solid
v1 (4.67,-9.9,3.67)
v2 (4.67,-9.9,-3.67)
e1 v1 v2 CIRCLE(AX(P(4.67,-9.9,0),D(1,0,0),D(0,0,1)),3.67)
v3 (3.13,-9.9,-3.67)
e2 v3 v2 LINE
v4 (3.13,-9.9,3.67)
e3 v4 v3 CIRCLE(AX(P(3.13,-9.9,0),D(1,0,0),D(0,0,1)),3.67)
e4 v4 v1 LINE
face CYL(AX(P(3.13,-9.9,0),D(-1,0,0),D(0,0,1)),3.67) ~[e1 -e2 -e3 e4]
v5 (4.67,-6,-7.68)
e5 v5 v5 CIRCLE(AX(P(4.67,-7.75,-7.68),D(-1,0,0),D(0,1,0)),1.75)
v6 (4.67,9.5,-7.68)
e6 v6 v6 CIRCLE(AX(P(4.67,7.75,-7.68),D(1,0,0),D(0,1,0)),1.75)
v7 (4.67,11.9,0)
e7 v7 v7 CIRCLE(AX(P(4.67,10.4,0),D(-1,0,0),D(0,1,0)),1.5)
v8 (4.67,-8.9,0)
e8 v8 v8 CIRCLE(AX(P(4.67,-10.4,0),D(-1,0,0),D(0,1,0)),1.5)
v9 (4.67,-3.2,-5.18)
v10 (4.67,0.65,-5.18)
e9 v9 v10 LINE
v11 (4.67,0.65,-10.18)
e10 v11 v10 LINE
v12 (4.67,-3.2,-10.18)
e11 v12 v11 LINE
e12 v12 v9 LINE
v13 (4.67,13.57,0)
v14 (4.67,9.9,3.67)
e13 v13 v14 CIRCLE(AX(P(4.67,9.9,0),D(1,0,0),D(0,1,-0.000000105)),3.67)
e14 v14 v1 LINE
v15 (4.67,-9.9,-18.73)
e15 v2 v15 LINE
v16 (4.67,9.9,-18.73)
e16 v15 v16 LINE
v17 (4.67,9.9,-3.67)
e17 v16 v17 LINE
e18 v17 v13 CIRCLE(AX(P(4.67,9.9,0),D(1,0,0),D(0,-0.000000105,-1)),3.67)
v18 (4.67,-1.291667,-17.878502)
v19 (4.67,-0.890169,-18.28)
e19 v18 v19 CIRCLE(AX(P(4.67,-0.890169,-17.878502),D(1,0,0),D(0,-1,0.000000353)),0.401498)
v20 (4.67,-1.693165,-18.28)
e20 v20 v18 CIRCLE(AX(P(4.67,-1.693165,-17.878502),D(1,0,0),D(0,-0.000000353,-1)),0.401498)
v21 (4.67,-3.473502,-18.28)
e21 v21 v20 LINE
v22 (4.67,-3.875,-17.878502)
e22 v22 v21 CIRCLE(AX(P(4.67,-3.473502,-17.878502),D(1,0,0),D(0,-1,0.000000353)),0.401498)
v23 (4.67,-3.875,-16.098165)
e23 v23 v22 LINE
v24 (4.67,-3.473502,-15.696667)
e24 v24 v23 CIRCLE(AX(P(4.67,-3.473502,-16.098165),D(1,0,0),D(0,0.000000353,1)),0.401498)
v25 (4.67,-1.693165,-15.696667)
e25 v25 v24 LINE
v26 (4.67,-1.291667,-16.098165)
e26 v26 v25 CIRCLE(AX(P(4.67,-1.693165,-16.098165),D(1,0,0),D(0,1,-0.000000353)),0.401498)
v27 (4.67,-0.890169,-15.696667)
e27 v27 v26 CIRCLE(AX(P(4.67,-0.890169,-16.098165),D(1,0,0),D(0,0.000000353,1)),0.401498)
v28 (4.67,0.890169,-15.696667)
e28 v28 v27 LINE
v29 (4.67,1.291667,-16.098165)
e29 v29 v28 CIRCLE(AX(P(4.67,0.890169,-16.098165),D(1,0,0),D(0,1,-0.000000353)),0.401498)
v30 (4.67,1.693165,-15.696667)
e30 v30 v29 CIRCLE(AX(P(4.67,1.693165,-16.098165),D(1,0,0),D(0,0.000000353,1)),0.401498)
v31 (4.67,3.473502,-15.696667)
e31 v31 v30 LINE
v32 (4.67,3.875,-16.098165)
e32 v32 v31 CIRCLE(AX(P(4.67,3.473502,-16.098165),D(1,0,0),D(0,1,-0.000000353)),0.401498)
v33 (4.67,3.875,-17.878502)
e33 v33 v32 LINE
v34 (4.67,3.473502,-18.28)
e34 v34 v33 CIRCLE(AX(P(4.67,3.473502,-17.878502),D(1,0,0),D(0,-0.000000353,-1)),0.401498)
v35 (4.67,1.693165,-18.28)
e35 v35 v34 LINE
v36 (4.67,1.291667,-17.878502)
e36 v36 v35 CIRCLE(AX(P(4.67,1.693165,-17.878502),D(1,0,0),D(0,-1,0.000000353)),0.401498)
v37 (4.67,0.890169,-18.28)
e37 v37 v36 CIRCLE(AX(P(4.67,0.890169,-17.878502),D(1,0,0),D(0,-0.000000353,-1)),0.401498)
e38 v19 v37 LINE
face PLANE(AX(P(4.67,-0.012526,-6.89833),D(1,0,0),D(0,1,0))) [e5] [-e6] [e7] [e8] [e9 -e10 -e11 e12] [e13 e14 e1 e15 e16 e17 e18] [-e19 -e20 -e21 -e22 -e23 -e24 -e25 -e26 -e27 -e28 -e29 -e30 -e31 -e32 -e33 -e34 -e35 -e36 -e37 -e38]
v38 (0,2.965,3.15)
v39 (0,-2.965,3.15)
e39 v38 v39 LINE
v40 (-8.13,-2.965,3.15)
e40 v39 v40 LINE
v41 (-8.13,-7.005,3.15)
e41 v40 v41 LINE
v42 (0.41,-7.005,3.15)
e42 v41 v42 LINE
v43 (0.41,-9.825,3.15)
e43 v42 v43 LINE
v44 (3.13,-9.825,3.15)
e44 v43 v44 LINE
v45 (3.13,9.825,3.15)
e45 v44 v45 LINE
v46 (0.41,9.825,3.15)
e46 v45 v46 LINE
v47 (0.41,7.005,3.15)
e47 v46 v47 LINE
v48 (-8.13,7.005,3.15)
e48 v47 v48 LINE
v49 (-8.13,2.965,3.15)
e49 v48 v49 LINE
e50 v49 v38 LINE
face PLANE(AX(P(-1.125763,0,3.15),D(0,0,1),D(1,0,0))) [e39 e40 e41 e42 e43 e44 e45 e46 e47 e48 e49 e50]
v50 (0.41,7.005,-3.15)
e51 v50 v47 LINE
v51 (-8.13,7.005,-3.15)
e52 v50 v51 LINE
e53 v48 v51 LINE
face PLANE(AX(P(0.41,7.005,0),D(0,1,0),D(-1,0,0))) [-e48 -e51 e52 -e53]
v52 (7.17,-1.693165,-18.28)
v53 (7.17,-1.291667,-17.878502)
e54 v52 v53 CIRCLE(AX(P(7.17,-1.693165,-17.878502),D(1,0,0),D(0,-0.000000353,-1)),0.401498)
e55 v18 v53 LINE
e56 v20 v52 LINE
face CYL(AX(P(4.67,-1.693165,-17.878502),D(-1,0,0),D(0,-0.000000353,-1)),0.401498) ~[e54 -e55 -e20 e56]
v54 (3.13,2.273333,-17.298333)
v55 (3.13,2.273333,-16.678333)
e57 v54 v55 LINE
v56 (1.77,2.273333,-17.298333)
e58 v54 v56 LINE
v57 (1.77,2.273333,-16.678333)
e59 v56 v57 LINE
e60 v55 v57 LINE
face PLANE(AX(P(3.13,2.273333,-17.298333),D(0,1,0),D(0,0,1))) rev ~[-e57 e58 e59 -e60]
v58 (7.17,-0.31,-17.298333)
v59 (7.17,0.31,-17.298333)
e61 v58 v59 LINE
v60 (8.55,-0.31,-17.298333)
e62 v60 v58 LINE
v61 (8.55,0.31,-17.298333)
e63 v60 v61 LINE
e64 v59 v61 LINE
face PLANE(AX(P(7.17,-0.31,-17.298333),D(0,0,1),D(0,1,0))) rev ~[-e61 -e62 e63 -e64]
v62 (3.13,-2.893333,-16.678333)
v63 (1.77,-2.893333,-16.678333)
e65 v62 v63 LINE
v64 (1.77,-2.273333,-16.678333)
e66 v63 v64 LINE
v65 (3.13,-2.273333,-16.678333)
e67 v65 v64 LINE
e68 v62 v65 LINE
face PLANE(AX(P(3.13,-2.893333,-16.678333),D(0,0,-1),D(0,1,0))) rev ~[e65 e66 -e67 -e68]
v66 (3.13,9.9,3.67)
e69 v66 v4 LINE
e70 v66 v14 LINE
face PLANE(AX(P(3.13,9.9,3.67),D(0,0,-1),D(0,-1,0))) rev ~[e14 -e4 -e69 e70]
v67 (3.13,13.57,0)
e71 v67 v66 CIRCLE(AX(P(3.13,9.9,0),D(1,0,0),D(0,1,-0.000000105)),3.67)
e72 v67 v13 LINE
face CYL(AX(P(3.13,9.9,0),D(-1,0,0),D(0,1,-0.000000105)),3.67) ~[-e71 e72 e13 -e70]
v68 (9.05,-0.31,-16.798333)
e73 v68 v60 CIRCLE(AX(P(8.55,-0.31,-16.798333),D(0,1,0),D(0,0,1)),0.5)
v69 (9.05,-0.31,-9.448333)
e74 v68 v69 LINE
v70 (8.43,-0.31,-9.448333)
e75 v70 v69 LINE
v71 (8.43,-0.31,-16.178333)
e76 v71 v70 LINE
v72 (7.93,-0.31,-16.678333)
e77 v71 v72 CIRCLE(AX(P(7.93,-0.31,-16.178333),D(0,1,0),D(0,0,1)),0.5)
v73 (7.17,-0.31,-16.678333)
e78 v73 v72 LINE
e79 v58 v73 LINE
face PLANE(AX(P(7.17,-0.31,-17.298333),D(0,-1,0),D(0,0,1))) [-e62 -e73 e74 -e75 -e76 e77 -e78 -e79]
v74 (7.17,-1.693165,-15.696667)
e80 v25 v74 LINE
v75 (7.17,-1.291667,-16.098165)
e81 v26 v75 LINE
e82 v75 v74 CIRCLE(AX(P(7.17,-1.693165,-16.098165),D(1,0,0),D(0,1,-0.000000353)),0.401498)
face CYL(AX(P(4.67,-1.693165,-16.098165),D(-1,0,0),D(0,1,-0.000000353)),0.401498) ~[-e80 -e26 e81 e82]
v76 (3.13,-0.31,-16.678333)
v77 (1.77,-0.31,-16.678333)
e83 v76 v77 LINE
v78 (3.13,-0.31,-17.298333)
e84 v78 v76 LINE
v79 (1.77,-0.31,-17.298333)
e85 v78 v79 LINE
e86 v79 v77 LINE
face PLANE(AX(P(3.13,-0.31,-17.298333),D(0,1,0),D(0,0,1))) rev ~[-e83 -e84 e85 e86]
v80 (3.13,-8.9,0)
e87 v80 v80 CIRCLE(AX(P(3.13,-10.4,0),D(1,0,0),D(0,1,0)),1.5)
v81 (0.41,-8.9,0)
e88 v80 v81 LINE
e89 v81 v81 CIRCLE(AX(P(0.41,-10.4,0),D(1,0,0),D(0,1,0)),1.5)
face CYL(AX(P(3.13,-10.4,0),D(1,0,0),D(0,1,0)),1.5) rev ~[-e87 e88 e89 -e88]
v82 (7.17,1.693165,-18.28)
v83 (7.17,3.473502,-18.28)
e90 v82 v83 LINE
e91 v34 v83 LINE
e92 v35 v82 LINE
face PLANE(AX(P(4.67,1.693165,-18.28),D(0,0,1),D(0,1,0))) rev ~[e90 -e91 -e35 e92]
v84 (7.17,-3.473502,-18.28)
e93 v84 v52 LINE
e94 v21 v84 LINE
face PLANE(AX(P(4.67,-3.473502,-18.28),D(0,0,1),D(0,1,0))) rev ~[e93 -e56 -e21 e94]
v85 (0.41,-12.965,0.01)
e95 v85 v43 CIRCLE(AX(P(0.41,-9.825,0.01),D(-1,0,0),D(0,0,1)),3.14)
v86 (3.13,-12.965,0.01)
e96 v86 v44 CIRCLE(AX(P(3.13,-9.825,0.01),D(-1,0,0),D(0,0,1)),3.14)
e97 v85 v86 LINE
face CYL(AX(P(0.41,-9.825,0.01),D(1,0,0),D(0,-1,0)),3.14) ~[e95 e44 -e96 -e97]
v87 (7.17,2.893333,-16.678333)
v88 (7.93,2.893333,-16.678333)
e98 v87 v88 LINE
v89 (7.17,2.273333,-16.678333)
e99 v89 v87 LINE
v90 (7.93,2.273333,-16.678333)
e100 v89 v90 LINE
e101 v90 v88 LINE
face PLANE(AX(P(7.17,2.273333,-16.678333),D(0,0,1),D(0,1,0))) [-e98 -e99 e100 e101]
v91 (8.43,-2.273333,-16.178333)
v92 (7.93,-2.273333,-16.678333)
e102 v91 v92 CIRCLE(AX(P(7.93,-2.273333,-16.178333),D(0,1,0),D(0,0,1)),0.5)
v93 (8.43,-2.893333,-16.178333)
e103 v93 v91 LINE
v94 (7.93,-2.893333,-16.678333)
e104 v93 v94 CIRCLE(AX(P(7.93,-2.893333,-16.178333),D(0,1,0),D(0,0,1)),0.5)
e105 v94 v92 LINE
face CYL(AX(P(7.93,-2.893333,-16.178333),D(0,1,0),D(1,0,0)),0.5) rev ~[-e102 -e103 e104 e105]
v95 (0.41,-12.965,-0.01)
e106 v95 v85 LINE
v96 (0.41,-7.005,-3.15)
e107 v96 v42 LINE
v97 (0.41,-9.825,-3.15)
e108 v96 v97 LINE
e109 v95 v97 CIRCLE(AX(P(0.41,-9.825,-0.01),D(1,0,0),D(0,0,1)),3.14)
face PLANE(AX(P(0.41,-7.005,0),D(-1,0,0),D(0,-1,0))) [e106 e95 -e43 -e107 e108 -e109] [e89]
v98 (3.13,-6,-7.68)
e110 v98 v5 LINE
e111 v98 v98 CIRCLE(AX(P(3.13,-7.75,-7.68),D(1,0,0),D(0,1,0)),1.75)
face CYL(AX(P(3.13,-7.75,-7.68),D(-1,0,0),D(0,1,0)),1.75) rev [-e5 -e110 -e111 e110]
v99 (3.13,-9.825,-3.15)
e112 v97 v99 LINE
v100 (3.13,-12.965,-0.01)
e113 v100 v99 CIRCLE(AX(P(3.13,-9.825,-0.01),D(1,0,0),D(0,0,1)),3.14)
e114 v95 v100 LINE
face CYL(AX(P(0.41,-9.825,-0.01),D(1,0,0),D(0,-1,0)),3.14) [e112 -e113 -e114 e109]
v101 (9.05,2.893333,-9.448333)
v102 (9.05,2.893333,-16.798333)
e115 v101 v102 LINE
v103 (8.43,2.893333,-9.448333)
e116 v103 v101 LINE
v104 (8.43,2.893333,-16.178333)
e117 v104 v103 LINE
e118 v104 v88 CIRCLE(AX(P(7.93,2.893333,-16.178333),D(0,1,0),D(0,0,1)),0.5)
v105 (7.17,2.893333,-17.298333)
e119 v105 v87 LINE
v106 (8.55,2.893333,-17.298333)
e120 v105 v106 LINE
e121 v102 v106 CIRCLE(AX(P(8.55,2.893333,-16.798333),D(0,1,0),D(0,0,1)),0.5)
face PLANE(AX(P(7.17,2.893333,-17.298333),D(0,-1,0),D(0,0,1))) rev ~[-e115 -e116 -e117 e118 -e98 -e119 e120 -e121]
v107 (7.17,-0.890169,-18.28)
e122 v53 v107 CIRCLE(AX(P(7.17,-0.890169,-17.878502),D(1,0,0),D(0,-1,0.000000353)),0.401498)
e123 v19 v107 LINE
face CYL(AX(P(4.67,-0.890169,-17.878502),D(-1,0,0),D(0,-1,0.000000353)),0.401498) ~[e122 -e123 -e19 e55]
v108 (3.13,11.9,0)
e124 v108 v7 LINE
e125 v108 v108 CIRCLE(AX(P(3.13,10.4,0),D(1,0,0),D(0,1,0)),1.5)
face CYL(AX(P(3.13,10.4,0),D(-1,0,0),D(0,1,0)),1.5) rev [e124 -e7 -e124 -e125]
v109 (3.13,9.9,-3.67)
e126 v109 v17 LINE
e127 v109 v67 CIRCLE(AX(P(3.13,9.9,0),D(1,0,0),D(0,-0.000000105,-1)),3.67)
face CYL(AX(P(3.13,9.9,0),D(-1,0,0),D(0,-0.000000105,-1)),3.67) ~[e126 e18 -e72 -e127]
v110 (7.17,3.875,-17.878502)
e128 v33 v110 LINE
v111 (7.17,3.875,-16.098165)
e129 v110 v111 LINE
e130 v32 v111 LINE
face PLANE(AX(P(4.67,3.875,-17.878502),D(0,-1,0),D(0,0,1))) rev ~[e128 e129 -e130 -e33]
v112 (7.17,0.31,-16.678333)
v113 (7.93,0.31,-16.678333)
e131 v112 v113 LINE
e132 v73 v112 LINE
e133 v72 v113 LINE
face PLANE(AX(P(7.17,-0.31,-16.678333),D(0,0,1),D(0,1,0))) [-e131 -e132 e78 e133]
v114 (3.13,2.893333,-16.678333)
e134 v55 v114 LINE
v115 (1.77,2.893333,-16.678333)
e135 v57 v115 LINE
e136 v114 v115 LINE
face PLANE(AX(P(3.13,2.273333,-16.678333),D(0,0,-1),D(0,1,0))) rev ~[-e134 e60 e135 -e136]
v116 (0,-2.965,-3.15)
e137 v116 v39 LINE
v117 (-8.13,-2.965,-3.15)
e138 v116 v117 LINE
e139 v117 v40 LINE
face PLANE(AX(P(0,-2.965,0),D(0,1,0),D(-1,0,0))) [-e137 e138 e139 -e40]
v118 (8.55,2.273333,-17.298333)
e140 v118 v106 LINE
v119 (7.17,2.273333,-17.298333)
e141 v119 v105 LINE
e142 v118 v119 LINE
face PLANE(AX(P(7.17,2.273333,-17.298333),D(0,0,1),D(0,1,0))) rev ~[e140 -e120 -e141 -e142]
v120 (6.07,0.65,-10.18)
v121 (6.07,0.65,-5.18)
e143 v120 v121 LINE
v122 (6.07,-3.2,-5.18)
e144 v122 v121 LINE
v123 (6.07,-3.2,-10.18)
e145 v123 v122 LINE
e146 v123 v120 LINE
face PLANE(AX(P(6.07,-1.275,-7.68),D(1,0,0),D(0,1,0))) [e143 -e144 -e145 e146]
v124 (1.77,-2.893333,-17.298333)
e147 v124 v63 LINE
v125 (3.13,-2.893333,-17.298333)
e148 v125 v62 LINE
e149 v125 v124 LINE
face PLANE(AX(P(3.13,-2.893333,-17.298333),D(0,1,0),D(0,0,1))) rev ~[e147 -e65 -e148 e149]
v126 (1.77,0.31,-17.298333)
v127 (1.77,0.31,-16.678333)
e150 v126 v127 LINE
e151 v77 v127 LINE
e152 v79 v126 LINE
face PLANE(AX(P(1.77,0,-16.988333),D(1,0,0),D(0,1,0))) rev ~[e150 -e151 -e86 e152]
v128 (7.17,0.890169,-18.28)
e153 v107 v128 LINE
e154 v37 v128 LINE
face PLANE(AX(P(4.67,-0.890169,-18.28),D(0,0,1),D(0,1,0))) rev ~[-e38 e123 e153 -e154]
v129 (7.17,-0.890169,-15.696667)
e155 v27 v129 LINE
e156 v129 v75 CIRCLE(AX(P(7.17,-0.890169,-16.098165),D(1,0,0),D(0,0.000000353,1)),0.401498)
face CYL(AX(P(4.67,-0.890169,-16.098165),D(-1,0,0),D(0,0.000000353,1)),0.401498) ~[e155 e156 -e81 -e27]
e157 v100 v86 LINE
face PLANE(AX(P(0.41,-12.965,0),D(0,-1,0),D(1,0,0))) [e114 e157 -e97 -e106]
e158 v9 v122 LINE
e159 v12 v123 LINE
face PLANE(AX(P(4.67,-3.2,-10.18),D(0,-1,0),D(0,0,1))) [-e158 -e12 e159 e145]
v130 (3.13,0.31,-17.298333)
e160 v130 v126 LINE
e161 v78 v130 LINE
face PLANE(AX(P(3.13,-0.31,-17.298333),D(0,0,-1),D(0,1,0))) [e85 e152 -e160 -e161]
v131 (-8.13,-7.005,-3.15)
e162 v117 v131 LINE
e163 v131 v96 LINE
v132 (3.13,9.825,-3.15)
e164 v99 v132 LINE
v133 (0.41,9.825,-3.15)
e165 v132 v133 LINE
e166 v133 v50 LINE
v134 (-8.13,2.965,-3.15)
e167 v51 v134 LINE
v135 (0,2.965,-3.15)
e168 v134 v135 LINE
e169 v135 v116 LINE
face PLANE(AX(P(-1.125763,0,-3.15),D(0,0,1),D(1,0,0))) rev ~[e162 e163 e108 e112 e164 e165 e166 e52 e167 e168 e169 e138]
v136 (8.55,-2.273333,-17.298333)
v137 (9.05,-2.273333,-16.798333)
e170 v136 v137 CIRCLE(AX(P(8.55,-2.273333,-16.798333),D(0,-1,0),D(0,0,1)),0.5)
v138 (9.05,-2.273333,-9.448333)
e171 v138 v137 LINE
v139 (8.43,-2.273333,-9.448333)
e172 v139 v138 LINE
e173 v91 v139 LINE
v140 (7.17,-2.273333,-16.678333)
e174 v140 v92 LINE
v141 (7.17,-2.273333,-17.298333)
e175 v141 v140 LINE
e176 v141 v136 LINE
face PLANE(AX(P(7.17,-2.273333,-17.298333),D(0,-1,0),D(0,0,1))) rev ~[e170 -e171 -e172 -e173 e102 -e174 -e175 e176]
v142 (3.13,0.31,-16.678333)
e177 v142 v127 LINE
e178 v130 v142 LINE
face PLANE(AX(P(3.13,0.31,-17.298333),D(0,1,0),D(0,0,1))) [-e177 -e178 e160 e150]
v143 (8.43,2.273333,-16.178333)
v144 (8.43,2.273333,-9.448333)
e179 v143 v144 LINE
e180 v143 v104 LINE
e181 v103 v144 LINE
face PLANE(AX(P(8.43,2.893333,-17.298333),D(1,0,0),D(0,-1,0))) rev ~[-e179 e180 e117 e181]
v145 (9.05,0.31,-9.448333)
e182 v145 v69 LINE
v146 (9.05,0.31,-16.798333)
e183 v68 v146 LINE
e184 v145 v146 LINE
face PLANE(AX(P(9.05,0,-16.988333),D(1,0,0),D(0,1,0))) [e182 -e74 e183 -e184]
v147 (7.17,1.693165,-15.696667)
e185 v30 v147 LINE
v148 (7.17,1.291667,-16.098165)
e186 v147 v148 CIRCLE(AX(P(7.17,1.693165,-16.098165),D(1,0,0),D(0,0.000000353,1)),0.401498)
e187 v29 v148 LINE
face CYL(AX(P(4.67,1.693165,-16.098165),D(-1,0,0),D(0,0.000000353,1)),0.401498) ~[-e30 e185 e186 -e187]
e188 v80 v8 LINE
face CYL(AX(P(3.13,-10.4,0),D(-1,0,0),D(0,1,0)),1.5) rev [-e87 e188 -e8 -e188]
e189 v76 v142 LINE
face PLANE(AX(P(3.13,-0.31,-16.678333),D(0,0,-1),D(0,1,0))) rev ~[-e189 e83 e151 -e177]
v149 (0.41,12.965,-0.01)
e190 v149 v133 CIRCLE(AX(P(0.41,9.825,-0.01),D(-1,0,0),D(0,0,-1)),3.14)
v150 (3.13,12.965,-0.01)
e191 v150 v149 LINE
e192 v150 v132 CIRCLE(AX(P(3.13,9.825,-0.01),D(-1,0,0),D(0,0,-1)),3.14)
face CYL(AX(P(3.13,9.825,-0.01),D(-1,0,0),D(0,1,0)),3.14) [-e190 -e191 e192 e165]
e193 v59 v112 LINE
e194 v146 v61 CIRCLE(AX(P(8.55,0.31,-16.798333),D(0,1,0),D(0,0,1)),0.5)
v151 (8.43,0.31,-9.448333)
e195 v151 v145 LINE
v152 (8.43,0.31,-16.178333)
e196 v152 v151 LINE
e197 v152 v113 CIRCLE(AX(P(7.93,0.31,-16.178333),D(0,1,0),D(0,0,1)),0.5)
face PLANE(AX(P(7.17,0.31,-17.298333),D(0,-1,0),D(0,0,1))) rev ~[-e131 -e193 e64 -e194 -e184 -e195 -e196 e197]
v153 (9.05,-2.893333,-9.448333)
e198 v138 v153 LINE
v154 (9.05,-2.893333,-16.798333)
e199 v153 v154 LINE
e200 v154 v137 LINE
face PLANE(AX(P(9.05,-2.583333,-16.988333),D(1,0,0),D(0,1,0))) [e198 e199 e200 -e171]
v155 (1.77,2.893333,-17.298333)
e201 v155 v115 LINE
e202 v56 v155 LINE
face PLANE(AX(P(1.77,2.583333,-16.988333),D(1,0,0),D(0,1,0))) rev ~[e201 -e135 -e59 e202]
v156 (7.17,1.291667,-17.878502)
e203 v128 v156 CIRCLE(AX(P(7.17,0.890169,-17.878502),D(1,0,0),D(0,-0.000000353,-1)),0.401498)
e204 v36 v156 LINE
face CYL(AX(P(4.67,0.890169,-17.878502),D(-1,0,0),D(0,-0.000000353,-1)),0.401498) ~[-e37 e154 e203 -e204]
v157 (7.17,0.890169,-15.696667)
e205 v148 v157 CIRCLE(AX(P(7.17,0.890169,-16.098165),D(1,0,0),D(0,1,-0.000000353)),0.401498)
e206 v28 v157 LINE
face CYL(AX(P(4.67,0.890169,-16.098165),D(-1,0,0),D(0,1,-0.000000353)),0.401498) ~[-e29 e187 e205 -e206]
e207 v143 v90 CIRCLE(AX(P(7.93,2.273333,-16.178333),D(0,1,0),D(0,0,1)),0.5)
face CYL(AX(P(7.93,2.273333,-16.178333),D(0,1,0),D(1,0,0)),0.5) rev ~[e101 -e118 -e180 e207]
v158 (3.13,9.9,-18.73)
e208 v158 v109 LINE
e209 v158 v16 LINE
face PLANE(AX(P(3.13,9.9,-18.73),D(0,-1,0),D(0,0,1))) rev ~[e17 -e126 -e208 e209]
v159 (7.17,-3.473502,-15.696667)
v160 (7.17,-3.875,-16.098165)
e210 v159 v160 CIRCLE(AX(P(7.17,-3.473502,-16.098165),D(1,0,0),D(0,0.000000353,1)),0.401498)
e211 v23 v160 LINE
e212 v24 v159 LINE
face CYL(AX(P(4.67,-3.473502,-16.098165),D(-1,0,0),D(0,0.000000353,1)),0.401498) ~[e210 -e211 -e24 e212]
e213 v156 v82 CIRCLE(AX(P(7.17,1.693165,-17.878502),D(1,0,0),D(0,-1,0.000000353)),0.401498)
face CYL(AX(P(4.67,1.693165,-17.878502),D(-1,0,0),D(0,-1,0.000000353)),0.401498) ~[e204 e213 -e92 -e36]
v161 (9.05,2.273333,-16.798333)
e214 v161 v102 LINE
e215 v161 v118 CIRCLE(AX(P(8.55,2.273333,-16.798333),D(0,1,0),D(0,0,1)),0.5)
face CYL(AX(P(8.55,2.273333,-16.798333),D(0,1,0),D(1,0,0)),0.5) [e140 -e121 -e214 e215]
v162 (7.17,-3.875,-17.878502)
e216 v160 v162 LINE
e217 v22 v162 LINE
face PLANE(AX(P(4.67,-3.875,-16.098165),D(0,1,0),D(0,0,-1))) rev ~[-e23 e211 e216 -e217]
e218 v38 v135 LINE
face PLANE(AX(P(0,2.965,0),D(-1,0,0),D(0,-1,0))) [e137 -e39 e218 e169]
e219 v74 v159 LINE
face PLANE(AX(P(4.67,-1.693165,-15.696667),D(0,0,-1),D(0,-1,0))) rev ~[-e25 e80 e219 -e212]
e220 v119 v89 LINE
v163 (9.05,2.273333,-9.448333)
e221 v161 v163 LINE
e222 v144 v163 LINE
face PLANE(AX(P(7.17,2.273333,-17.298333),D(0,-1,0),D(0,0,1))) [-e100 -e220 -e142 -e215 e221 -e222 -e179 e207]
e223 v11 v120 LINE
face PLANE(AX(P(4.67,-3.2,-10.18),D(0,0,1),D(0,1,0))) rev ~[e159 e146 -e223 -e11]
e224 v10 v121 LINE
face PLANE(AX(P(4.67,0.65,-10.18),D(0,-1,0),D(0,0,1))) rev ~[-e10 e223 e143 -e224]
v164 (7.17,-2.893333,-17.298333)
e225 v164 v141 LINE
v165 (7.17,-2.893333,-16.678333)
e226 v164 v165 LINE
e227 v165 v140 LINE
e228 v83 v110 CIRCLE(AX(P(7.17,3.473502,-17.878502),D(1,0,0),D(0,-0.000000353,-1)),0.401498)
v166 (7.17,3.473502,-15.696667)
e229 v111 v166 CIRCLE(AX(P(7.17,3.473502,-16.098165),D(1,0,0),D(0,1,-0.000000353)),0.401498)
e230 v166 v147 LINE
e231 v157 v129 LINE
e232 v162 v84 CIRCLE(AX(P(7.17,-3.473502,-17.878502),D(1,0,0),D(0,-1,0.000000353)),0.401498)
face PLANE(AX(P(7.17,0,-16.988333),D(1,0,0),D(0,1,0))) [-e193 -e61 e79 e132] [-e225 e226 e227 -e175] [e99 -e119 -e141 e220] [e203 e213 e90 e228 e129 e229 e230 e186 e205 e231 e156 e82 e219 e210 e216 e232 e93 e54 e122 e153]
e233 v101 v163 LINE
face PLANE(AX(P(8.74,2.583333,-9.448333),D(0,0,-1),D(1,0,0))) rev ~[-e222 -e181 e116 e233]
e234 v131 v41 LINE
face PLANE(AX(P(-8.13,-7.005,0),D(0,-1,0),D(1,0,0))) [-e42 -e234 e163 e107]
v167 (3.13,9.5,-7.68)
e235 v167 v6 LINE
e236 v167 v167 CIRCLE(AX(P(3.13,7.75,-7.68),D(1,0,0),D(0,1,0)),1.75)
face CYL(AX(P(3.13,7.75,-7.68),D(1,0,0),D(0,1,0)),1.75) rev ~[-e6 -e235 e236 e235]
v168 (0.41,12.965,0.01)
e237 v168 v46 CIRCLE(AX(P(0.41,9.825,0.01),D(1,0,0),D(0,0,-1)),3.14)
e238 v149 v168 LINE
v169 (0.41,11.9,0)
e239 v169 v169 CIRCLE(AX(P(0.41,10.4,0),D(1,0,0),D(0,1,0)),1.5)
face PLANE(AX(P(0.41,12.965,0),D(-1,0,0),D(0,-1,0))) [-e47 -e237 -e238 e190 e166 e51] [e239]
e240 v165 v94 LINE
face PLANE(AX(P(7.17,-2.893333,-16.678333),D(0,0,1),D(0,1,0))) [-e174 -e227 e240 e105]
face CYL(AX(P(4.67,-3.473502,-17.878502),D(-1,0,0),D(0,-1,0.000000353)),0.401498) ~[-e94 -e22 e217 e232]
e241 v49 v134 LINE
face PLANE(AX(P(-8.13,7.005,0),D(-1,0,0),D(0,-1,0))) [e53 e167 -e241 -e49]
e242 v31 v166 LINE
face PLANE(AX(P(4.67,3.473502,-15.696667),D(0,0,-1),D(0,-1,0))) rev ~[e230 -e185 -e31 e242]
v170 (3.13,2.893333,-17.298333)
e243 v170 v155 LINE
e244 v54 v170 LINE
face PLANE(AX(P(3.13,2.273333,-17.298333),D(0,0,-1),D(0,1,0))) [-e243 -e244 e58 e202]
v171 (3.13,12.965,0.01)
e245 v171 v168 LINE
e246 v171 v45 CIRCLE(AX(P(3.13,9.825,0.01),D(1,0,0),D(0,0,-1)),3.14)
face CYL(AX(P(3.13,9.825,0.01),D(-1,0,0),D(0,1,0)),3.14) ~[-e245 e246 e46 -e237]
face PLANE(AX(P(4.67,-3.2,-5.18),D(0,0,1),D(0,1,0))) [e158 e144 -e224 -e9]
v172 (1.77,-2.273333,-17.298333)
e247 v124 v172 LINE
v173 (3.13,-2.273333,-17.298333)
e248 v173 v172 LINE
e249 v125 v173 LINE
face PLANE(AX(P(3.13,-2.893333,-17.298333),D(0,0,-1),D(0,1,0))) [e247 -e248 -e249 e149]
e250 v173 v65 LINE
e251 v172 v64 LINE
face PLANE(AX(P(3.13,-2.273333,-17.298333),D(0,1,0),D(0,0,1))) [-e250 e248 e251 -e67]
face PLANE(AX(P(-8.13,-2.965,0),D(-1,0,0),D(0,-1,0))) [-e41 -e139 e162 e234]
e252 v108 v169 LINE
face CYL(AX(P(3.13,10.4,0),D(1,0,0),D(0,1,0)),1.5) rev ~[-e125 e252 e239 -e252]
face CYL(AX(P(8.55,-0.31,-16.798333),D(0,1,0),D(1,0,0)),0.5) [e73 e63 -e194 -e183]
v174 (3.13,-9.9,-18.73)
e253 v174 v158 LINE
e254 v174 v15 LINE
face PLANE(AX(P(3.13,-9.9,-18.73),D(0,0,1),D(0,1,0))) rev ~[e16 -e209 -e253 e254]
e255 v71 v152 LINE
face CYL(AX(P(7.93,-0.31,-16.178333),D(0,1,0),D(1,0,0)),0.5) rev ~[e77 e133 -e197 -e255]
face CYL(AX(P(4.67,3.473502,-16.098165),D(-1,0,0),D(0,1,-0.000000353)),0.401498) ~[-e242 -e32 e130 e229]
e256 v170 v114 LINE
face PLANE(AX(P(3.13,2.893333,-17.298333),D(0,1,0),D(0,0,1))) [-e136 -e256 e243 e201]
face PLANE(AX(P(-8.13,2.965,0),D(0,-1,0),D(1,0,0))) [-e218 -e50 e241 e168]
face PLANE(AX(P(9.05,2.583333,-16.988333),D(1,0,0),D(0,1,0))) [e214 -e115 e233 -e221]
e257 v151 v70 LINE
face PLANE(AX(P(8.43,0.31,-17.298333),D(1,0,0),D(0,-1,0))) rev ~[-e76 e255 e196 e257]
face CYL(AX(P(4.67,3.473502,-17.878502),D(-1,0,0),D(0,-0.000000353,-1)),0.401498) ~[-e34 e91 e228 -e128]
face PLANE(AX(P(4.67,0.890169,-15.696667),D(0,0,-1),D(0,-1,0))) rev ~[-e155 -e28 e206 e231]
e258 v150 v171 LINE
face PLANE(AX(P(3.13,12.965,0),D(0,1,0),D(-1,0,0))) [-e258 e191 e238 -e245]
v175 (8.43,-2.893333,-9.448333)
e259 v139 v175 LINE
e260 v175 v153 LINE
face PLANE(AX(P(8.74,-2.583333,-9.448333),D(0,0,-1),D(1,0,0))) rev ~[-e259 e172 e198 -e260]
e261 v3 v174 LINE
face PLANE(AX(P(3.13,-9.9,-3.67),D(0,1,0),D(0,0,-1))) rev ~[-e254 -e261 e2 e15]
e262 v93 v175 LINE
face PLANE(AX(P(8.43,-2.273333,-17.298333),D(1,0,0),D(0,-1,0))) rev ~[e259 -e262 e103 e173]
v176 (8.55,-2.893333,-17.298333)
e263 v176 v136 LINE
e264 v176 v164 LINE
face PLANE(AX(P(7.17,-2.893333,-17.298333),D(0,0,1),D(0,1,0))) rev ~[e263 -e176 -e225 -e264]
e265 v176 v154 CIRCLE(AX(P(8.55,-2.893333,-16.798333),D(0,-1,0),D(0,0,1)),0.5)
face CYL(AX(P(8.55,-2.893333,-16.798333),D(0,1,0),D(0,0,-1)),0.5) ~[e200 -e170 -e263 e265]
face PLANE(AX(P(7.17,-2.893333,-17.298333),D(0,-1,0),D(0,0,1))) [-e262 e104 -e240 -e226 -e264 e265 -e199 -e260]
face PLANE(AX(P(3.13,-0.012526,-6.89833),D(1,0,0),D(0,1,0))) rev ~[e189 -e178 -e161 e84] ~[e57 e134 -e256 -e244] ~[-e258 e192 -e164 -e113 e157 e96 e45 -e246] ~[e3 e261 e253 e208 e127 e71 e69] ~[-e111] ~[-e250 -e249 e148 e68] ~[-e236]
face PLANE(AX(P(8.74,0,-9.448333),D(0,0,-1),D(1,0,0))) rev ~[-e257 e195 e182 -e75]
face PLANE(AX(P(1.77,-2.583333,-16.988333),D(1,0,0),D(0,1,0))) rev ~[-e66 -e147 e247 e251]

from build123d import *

# Parameters (mm, degrees)
F1_DEPTH  = 3.15
F2_R      = 3.14
F5_DEPTH  = 1.54
F4_R      = 1.5
F4_R_2    = 1.75
F6_DEPTH  = 12.5
F8_DEPTH  = 2.5
F9_W      = 0.62
F9_H      = 0.62
F10_DEPTH = 1.88
F11_W     = 0.62
F11_H     = 0.62
F12_DEPTH = 1.36
F13_W     = 0.62
F13_H     = 0.62
F14_DEPTH = 7.85
F15_R     = 0.5
F16_W     = 3.85
F16_H     = 5
F17_DEPTH = 1.4


with BuildPart() as f1:
    # F0 (on Top) → F1 (new body, symmetric)
    with BuildSketch(Plane.XY):
        Polygon((0, 2.965), (0, 0), (0, -2.965), (-8.13, -2.965), (-8.13, -7.005), (0.41, -7.005), (0.41, -12.965), (3.13, -12.965), (3.13, 0), (3.13, 12.965), (0.41, 12.965), (0.41, 7.005), (-8.13, 7.005), (-8.13, 2.965), align=None)
    extrude(amount=F1_DEPTH, both=True)

    # F2
    f2_edges = [f1.edges().sort_by_distance(p)[0] for p in [
        (1.77, 12.965, 3.15),
        (1.77, 12.965, -3.15),
        (1.77, -12.965, 3.15),
        (1.77, -12.965, -3.15),
    ]]
    fillet(f2_edges, radius=F2_R)

    # F3 (on face) → F5 (join)
    with BuildSketch(Plane.YZ.offset(3.13)):
        with BuildLine():
            Line((-9.9, -3.67), (-9.9, -18.73))
            Line((-9.9, -18.73), (9.9, -18.73))
            Line((9.9, -18.73), (9.9, -3.67))
            ThreePointArc((9.9, -3.67), (6.23, 0), (9.9, 3.67))
            Line((9.9, 3.67), (-9.9, 3.67))
            ThreePointArc((-9.9, 3.67), (-7.304918, 2.595082), (-6.23, 0))
            ThreePointArc((-6.23, 0), (-7.304918, -2.595082), (-9.9, -3.67))
        make_face()
        with BuildLine():
            ThreePointArc((-9.9, 3.67), (-13.57, 0), (-9.9, -3.67))
            ThreePointArc((-9.9, -3.67), (-7.304918, -2.595082), (-6.23, 0))
            ThreePointArc((-6.23, 0), (-7.304918, 2.595082), (-9.9, 3.67))
        make_face()
        with BuildLine():
            ThreePointArc((9.9, 3.67), (6.23, 0), (9.9, -3.67))
            ThreePointArc((9.9, -3.67), (12.495082, -2.595082), (13.57, 0))
            ThreePointArc((13.57, 0), (12.495082, 2.595082), (9.9, 3.67))
        make_face()
    extrude(amount=F5_DEPTH)

    # F4 (on face) → F6 (cut, symmetric)
    with BuildSketch(Plane.YZ.offset(3.13)):
        with Locations((-10.4, 0)):
            Circle(F4_R)
        with Locations((10.4, 0)):
            Circle(F4_R)
        with Locations((-7.75, -7.68)):
            Circle(F4_R_2)
        with Locations((7.75, -7.68)):
            Circle(F4_R_2)
    extrude(amount=F6_DEPTH, both=True, mode=Mode.SUBTRACT)

    # F7 (on face) → F8 (join)
    with BuildSketch(Plane.YZ.offset(4.67)):
        with BuildLine():
            ThreePointArc((1.291667, -16.098165), (1.174071, -15.814263), (0.890169, -15.696667))
            Line((0.890169, -15.696667), (-0.890169, -15.696667))
            ThreePointArc((-0.890169, -15.696667), (-1.174071, -15.814263), (-1.291667, -16.098165))
            Line((-1.291667, -16.098165), (-1.291667, -17.878502))
            ThreePointArc((-1.291667, -17.878502), (-1.174071, -18.162404), (-0.890169, -18.28))
            Line((-0.890169, -18.28), (0.890169, -18.28))
            ThreePointArc((0.890169, -18.28), (1.174071, -18.162404), (1.291667, -17.878502))
            Line((1.291667, -17.878502), (1.291667, -16.098165))
        make_face()
        with BuildLine():
            ThreePointArc((1.693165, -15.696667), (1.409263, -15.814263), (1.291667, -16.098165))
            Line((1.291667, -16.098165), (1.291667, -17.878502))
            ThreePointArc((1.291667, -17.878502), (1.409263, -18.162404), (1.693165, -18.28))
            Line((1.693165, -18.28), (3.473502, -18.28))
            ThreePointArc((3.473502, -18.28), (3.757404, -18.162404), (3.875, -17.878502))
            Line((3.875, -17.878502), (3.875, -16.098165))
            ThreePointArc((3.875, -16.098165), (3.757404, -15.814263), (3.473502, -15.696667))
            Line((3.473502, -15.696667), (1.693165, -15.696667))
        make_face()
        with BuildLine():
            Line((-1.291667, -17.878502), (-1.291667, -16.098165))
            ThreePointArc((-1.291667, -16.098165), (-1.409263, -15.814263), (-1.693165, -15.696667))
            Line((-1.693165, -15.696667), (-3.473502, -15.696667))
            ThreePointArc((-3.473502, -15.696667), (-3.757404, -15.814263), (-3.875, -16.098165))
            Line((-3.875, -16.098165), (-3.875, -17.878502))
            ThreePointArc((-3.875, -17.878502), (-3.757404, -18.162404), (-3.473502, -18.28))
            Line((-3.473502, -18.28), (-1.693165, -18.28))
            ThreePointArc((-1.693165, -18.28), (-1.409263, -18.162404), (-1.291667, -17.878502))
        make_face()
    extrude(amount=F8_DEPTH)

    # F9 (on face) → F10 (join)
    with BuildSketch(Plane.YZ.offset(7.17)):
        with Locations((0, -16.988333)):
            Rectangle(F9_W, F9_H)
        with Locations((2.583333, -16.988333)):
            Rectangle(F9_W, F9_H)
        with Locations((-2.583333, -16.988333)):
            Rectangle(F9_W, F9_H)
    extrude(amount=F10_DEPTH)

    # F11 (on face) → F12 (join)
    with BuildSketch(Plane.YZ.offset(3.13)):
        with Locations((-2.583333, -16.988333)):
            Rectangle(F11_W, F11_H)
        with Locations((0, -16.988333)):
            Rectangle(F11_W, F11_H)
        with Locations((2.583333, -16.988333)):
            Rectangle(F11_W, F11_H)
    extrude(amount=-F12_DEPTH)

    # F13 (on face) → F14 (join)
    with BuildSketch(Plane(origin=(0, 0, -17.298333), x_dir=(1, 0, 0), z_dir=(0, 0, -1))):
        with Locations((8.74, 2.583333)):
            Rectangle(F13_W, F13_H)
        with Locations((8.74, 0)):
            Rectangle(F13_W, F13_H)
        with Locations((8.74, -2.583333)):
            Rectangle(F13_W, F13_H)
    extrude(amount=-F14_DEPTH)

    # F15
    f15_edges = [f1.edges().sort_by_distance(p)[0] for p in [
        (9.05, 2.583333, -17.298333),
        (9.05, 0, -17.298333),
        (9.05, -2.583333, -17.298333),
        (8.43, 2.583333, -16.678333),
        (8.43, 0, -16.678333),
        (8.43, -2.583333, -16.678333),
    ]]
    fillet(f15_edges, radius=F15_R)

    # F16 (on face) → F17 (join)
    with BuildSketch(Plane.YZ.offset(4.67)):
        with Locations((-1.275, -7.68)):
            Rectangle(F16_W, F16_H)
    extrude(amount=F17_DEPTH)


solid = f1.part
